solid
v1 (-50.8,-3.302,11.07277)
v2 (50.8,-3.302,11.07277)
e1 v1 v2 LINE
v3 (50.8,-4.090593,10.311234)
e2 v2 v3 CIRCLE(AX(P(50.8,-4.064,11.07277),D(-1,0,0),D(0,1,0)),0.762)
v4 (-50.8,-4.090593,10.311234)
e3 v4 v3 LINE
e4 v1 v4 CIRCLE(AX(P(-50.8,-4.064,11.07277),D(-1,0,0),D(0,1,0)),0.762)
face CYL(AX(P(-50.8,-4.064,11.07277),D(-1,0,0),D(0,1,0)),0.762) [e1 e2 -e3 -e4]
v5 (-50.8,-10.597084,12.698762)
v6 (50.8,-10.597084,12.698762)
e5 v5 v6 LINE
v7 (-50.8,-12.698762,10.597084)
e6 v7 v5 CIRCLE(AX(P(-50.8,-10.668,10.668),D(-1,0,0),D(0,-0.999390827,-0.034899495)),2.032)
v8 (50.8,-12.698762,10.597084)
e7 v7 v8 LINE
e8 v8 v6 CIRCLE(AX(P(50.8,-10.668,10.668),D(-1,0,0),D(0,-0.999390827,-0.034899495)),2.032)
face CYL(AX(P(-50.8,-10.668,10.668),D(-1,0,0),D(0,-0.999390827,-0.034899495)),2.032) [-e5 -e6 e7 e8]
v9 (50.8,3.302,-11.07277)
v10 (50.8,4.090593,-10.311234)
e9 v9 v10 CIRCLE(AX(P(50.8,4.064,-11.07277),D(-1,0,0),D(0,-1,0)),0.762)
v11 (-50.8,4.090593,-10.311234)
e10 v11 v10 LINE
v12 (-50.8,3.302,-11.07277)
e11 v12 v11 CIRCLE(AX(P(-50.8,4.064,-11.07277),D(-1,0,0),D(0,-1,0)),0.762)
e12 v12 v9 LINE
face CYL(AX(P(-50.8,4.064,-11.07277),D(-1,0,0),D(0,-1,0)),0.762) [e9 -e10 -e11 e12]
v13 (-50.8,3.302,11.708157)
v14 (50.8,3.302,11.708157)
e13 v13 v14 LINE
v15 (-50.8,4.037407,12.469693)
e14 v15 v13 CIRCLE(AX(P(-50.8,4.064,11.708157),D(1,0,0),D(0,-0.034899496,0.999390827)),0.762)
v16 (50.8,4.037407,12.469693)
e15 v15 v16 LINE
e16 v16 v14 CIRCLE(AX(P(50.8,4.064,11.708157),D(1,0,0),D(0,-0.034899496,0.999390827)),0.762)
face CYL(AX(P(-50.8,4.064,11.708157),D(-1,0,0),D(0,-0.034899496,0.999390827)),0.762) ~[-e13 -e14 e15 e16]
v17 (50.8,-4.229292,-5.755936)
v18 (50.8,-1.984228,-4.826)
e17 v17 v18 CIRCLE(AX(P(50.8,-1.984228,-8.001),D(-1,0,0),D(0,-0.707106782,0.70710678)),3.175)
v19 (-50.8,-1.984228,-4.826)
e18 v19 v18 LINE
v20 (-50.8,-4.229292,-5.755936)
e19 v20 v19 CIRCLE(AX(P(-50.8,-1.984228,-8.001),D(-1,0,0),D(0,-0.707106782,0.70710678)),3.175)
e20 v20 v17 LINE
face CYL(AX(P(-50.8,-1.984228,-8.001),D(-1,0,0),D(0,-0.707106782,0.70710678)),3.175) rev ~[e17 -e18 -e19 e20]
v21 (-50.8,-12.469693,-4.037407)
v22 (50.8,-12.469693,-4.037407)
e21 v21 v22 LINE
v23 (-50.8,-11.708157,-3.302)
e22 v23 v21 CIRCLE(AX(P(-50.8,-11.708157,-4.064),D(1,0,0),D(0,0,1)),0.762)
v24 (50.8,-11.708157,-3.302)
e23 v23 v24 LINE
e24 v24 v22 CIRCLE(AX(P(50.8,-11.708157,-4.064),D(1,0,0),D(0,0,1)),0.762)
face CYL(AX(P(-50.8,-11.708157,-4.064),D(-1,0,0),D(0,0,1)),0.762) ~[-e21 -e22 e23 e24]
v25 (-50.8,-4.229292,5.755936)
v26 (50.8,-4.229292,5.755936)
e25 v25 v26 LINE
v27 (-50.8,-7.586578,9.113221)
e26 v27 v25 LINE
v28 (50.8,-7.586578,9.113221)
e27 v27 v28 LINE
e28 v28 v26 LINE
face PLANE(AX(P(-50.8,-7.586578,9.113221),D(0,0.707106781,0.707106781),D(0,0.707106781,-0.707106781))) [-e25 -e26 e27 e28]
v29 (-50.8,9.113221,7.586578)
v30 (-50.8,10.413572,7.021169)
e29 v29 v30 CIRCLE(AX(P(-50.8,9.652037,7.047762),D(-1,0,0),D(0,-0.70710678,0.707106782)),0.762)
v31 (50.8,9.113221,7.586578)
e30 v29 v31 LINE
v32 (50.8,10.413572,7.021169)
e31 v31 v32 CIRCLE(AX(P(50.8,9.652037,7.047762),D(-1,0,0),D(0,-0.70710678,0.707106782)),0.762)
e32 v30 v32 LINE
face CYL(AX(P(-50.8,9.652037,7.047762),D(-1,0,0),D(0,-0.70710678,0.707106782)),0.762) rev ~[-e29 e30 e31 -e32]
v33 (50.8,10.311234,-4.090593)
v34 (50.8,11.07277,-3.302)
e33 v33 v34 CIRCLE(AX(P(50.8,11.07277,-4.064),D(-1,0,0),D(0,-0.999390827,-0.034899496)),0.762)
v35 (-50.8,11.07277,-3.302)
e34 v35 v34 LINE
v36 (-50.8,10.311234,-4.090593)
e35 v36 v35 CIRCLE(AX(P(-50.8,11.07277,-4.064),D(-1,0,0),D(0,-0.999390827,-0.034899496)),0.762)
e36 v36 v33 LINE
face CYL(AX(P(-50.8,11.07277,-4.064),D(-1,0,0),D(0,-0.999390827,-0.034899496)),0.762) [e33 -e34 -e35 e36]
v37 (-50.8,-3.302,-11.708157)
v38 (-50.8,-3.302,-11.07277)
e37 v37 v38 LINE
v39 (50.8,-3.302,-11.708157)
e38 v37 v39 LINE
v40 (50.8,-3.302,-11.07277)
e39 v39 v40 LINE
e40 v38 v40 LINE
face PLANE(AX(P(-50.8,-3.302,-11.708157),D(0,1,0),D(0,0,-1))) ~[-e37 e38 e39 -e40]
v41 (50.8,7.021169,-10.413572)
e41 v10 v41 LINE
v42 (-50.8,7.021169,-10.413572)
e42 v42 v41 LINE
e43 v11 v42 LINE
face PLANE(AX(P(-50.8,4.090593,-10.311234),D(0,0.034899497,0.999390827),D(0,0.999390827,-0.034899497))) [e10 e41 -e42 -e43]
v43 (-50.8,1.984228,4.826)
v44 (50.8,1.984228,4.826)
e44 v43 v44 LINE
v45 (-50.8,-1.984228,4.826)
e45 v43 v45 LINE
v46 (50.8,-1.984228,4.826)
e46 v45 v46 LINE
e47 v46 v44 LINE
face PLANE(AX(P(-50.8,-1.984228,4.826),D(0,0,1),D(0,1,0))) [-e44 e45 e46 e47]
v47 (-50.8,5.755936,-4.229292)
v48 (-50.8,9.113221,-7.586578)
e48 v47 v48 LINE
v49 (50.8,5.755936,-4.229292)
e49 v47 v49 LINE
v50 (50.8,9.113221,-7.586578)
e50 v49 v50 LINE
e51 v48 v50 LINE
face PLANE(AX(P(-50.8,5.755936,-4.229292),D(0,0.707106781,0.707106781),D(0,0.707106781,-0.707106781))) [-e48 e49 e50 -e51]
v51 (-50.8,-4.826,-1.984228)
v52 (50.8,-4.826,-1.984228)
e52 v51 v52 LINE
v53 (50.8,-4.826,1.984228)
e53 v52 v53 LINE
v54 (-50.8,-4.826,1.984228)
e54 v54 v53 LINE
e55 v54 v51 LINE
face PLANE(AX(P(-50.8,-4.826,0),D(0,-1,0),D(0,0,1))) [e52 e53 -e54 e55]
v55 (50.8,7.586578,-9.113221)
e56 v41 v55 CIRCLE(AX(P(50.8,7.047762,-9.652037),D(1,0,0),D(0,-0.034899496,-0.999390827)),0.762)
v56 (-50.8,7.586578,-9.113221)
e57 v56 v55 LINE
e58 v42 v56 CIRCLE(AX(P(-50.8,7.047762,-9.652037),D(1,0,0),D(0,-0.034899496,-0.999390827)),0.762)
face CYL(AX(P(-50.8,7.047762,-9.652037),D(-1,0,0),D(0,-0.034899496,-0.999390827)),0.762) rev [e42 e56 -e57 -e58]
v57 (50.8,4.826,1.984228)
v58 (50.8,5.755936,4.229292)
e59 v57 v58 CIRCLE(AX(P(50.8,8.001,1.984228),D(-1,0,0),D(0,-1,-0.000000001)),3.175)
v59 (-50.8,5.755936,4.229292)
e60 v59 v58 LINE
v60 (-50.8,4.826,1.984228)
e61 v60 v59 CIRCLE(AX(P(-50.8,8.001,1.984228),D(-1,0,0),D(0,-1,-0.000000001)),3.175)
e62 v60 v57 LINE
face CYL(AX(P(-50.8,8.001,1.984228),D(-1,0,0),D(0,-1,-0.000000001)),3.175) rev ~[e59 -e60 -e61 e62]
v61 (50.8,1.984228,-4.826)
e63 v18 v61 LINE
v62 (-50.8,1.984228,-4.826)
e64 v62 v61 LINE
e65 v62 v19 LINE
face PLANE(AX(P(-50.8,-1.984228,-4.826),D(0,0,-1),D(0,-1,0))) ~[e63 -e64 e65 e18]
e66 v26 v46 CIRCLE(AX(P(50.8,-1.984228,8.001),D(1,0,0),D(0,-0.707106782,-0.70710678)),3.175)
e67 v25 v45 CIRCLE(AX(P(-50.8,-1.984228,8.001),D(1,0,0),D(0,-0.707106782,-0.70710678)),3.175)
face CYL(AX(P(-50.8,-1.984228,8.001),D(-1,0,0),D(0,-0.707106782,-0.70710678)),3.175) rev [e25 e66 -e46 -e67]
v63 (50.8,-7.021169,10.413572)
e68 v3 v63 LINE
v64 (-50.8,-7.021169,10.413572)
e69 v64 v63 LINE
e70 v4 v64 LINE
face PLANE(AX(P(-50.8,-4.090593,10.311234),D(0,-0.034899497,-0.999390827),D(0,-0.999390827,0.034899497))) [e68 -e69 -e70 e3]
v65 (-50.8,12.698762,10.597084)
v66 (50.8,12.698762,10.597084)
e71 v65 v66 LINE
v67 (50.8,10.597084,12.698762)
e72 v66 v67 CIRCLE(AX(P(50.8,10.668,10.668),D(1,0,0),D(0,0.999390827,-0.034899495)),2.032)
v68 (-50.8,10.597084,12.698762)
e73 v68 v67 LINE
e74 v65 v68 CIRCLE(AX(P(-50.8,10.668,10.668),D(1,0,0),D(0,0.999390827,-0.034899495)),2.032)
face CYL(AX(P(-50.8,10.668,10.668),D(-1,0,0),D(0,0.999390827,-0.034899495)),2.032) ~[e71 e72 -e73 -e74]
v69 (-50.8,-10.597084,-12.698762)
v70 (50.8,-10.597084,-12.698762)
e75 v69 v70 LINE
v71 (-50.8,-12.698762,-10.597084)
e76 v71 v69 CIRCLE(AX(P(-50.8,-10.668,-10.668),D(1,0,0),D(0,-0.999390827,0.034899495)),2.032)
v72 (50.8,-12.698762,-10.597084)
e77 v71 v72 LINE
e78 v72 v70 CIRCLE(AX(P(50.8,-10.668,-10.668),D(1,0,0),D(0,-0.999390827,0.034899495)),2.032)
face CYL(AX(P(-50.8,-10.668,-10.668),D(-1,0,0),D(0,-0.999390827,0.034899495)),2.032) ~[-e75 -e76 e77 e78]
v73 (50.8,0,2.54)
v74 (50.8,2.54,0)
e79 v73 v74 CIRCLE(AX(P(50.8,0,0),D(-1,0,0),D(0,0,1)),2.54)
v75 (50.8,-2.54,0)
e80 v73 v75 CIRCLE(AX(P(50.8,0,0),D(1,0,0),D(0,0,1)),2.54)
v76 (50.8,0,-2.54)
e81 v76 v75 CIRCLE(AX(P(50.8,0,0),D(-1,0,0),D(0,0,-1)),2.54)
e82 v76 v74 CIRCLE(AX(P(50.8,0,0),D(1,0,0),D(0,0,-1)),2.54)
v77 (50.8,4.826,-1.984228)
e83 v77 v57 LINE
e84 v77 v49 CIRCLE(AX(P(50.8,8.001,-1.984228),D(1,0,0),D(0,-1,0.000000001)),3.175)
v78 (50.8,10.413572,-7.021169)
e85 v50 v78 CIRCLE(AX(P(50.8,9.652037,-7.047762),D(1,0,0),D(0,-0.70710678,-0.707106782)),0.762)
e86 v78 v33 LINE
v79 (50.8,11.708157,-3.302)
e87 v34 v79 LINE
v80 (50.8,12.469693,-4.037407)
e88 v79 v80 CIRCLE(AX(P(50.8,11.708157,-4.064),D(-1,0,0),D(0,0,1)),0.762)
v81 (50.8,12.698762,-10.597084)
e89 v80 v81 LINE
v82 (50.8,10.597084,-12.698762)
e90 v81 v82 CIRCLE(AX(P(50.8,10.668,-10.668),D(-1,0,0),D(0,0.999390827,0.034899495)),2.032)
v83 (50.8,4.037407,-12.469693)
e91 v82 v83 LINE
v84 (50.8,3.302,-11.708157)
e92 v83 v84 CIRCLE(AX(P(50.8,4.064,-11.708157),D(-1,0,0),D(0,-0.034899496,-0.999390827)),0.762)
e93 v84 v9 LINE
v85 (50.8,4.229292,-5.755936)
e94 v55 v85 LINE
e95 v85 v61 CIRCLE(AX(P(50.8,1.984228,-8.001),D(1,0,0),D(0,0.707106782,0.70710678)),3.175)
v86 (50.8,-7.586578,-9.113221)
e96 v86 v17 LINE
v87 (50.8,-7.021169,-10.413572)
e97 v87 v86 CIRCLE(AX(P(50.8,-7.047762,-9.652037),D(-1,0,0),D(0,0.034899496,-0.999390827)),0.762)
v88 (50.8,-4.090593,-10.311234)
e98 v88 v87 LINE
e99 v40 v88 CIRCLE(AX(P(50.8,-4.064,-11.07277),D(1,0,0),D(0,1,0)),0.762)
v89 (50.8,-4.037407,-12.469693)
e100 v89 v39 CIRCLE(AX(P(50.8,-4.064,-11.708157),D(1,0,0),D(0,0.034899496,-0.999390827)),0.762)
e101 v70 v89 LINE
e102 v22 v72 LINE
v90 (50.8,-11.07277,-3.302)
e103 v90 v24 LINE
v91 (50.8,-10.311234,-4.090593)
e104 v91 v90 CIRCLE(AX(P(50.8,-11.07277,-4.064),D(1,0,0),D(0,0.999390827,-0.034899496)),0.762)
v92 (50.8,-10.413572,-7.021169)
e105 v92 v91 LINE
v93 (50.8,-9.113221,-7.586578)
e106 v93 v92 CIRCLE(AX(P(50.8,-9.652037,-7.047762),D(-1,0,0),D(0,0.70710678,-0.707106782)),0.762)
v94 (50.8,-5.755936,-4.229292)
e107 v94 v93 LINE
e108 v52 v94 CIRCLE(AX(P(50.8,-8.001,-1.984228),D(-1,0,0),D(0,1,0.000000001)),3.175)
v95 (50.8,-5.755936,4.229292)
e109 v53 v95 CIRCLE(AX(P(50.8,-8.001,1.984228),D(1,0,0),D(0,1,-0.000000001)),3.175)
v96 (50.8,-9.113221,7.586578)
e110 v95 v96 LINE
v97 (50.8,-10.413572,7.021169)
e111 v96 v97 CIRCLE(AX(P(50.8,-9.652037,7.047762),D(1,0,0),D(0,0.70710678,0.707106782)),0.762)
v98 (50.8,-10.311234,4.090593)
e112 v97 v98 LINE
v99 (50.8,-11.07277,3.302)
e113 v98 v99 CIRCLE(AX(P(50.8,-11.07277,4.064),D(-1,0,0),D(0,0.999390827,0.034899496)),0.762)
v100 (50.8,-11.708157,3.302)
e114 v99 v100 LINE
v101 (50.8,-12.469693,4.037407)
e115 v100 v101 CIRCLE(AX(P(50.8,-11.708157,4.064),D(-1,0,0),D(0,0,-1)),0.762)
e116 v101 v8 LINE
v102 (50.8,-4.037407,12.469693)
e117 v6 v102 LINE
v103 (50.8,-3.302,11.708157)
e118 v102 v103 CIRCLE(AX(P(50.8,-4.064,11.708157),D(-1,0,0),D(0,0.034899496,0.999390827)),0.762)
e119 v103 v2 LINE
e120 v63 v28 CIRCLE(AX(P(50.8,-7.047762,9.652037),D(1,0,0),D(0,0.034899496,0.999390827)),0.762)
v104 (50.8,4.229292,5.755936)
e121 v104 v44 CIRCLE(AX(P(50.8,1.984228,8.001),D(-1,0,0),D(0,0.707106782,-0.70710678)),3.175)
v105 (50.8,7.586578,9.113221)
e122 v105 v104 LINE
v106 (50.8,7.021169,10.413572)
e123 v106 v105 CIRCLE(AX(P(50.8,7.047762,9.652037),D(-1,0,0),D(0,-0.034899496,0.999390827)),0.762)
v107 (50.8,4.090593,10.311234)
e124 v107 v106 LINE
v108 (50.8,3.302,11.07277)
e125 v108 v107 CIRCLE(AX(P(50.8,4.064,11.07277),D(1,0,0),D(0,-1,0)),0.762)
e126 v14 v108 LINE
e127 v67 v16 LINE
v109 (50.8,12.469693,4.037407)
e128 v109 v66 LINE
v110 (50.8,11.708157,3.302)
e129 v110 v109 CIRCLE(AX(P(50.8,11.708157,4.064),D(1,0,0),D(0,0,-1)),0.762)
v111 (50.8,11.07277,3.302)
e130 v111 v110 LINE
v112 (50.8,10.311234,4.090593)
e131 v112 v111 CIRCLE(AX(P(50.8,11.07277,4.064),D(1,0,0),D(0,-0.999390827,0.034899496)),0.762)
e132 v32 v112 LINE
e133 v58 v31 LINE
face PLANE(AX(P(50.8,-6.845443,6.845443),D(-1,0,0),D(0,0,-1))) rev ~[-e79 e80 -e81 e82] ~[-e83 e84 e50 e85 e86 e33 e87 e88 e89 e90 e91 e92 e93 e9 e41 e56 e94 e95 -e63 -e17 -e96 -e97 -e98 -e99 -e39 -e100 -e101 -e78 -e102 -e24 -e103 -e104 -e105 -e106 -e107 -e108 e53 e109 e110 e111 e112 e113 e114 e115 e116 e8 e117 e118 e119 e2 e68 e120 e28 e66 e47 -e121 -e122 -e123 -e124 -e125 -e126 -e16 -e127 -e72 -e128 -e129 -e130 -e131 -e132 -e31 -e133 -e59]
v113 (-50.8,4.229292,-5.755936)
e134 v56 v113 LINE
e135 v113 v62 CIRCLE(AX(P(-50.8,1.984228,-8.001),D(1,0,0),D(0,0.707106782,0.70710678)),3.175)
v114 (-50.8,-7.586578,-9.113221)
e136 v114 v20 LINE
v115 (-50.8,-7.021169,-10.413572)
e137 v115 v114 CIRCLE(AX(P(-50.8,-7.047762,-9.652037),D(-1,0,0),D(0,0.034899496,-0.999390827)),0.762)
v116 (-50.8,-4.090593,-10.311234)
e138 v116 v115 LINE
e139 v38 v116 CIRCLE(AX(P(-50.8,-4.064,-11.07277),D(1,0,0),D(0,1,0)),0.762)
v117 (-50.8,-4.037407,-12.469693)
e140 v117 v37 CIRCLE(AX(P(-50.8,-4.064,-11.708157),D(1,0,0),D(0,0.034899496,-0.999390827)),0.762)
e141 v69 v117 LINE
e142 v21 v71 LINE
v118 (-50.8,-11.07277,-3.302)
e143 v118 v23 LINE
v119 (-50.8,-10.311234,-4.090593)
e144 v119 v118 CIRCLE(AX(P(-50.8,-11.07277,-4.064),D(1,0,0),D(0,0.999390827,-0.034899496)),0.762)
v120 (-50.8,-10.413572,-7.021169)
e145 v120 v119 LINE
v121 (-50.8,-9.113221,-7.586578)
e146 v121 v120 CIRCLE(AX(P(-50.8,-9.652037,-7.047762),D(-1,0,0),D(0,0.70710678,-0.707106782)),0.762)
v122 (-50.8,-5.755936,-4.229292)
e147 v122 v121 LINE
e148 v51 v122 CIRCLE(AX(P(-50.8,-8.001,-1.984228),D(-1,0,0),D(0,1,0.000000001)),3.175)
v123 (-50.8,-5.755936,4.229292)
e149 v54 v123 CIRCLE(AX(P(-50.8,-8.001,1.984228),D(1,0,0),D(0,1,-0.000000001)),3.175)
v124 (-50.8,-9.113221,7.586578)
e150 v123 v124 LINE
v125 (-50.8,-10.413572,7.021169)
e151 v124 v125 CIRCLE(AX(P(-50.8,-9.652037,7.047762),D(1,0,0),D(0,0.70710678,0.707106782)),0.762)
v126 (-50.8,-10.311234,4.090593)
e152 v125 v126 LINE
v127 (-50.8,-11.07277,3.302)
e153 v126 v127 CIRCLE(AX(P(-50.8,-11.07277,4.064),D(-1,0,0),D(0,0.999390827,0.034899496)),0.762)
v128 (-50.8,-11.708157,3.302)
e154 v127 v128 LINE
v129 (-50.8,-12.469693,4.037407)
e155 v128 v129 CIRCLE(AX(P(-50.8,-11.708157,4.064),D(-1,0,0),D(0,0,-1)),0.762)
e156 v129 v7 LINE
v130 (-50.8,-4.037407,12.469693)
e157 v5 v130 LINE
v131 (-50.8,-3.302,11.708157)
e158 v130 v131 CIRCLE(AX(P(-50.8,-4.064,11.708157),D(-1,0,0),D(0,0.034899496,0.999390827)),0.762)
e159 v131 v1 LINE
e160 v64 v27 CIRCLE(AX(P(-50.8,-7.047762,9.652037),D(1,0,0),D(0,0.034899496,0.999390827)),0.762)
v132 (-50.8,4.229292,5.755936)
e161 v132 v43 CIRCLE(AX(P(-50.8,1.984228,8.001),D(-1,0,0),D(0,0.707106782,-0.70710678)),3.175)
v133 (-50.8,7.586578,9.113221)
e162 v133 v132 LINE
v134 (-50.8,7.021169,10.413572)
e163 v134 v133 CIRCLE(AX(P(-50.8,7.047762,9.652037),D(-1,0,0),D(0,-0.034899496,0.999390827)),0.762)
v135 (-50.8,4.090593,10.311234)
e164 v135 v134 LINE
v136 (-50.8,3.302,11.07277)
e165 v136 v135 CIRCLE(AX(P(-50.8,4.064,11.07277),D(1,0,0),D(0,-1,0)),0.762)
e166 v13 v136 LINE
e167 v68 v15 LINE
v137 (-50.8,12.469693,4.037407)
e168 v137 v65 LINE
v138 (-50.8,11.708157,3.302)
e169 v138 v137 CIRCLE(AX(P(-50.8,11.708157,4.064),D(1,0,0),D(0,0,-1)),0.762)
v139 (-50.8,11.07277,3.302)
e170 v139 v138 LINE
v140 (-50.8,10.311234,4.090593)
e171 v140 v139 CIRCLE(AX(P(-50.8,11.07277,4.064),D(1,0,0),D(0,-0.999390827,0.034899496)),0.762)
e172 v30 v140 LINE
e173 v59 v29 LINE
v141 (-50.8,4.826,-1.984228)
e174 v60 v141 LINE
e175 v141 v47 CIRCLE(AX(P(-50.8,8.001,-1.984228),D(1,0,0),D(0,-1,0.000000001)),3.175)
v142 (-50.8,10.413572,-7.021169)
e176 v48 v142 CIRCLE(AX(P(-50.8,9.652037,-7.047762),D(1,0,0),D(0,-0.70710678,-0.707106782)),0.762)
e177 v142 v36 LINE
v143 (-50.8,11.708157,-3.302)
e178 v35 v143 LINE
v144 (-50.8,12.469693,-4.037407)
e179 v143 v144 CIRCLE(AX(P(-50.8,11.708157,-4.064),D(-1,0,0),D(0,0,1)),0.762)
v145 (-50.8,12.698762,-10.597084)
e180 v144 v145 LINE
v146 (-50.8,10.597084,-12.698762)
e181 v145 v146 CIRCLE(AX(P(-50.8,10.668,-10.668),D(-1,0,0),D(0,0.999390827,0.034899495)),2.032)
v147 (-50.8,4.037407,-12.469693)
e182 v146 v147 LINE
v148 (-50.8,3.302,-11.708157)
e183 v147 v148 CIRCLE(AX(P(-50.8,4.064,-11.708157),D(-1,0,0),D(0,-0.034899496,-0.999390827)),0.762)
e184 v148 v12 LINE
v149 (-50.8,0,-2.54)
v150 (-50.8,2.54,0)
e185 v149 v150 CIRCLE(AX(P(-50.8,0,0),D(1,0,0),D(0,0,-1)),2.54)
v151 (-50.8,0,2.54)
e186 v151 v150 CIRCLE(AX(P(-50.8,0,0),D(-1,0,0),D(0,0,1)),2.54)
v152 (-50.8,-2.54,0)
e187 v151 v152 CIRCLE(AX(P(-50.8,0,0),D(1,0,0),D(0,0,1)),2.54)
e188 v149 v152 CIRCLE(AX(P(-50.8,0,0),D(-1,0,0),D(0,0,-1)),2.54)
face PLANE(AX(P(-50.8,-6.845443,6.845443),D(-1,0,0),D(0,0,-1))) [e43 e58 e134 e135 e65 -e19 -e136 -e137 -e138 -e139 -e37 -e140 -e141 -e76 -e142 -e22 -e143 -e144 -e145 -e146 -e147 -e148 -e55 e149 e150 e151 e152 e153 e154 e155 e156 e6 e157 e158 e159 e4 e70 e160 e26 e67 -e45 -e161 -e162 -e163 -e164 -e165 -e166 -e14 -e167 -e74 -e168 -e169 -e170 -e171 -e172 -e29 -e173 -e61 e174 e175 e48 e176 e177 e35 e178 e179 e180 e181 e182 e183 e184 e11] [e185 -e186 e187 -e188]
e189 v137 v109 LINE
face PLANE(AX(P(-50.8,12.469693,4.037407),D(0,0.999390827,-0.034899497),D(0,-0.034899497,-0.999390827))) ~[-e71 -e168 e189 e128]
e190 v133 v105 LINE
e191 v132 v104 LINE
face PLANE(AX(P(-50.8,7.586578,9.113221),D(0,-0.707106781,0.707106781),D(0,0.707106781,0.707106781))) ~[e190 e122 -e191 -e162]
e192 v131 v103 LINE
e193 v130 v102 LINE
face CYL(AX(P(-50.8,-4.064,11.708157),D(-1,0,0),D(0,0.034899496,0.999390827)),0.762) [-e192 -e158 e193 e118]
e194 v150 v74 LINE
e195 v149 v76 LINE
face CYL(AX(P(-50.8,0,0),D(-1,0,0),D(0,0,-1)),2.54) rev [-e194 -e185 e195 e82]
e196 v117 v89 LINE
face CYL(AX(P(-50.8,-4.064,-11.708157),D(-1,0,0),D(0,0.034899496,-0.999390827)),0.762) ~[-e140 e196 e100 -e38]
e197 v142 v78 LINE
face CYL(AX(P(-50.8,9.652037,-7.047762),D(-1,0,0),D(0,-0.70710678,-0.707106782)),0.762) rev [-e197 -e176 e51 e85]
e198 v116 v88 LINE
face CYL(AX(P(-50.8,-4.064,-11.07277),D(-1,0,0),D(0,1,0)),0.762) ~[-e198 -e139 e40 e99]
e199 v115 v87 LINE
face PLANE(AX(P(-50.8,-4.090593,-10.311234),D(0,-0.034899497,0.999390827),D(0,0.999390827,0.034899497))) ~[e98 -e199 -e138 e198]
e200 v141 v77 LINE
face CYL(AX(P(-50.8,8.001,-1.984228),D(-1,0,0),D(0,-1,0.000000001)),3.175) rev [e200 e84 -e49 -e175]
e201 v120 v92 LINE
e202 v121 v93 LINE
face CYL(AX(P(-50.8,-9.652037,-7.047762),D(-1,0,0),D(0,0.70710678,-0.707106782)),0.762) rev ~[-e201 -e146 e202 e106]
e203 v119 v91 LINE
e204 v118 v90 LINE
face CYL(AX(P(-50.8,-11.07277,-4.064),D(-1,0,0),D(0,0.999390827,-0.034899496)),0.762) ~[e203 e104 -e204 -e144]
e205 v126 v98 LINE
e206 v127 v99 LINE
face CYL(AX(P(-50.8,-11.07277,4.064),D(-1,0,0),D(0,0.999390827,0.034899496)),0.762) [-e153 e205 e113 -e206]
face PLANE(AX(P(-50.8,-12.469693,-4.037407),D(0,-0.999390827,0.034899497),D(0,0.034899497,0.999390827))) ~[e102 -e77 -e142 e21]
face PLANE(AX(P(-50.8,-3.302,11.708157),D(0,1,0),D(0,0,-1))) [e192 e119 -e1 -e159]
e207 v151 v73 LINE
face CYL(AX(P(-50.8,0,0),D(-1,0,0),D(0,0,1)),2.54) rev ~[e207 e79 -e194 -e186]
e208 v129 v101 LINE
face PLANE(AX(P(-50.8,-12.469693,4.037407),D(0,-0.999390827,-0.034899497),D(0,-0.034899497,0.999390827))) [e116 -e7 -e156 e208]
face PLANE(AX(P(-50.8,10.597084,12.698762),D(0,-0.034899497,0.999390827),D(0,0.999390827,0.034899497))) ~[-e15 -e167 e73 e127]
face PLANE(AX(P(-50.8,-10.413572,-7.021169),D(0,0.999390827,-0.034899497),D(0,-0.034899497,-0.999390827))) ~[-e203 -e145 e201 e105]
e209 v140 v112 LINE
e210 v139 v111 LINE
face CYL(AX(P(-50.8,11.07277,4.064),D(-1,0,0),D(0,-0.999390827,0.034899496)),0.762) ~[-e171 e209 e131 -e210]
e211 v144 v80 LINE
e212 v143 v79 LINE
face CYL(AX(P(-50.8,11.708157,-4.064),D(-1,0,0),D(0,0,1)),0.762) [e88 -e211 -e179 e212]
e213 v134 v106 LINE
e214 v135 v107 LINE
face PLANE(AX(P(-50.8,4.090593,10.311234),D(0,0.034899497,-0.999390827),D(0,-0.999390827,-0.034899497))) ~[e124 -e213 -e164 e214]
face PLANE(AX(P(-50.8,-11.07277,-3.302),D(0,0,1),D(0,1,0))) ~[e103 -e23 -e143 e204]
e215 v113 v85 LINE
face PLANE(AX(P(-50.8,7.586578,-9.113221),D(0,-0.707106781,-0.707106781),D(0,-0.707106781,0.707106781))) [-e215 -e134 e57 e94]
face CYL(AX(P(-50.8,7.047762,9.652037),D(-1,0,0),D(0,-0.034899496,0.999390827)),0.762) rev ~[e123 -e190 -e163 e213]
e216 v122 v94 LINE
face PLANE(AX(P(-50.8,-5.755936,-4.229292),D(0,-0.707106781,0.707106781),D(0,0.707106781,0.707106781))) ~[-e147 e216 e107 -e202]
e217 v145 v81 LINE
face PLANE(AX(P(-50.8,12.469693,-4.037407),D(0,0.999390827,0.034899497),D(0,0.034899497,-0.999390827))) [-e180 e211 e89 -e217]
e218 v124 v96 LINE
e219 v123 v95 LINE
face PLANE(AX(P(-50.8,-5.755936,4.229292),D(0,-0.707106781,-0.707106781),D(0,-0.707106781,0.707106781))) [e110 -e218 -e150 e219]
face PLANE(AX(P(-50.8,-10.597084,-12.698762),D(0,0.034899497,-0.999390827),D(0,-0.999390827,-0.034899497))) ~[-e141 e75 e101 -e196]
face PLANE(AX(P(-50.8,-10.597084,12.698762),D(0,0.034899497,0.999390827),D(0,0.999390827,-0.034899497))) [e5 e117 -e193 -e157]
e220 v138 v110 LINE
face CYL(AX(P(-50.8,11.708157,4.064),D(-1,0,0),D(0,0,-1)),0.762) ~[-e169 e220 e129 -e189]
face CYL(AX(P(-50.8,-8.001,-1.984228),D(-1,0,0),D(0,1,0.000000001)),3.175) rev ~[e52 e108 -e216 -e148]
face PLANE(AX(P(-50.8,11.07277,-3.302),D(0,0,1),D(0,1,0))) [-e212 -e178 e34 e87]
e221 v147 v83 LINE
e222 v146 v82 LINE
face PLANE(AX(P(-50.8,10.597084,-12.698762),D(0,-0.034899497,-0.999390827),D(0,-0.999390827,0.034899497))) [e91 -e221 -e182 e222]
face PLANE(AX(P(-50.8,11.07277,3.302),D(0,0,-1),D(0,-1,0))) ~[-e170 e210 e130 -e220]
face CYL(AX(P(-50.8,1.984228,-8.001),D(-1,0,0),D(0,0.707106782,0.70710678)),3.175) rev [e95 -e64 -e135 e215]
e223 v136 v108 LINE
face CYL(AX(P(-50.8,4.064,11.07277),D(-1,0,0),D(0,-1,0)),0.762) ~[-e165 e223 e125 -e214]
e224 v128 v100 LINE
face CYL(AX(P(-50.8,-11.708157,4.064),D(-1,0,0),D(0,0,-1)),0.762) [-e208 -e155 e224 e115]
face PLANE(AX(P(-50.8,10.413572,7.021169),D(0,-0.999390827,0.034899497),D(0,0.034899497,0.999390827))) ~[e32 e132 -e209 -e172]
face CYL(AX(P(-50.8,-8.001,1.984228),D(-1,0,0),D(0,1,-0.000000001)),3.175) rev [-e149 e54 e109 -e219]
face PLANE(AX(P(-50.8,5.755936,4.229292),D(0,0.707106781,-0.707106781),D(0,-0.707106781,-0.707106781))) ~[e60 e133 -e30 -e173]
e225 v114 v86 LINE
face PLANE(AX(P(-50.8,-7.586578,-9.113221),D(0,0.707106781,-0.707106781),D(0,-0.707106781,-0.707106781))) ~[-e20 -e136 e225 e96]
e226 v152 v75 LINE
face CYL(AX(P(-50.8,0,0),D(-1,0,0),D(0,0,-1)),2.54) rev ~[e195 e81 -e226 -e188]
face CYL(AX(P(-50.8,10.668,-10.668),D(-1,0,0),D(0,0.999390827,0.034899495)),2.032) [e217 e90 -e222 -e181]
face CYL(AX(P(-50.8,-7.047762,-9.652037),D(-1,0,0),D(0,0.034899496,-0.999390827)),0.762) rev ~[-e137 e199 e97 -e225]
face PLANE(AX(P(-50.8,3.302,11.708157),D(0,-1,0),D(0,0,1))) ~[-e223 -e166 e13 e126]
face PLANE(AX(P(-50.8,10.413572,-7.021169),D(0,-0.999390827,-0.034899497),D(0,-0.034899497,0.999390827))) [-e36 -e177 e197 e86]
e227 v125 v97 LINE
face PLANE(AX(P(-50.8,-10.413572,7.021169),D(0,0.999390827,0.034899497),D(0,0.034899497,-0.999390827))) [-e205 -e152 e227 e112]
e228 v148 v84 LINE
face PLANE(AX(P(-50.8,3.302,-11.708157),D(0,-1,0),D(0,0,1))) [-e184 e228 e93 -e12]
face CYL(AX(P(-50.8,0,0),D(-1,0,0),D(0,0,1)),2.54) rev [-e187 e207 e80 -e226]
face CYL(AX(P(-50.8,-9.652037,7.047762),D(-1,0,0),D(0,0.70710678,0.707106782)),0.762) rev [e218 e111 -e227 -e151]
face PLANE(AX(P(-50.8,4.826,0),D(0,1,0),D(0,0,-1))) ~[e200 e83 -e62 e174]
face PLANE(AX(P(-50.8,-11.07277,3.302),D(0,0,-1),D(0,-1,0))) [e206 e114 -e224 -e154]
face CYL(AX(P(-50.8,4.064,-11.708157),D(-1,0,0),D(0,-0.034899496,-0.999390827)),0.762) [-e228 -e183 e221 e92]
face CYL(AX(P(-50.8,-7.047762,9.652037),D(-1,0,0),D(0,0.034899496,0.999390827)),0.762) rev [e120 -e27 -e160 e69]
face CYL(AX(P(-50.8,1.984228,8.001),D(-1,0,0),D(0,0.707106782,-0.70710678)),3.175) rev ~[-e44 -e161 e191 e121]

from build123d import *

# Parameters (mm, degrees)
BOSS_EXTRUDE1_DEPTH      = 50.8
BOSS_EXTRUDE1_DEPTH_BACK = 50.8


with BuildPart() as part:
    # Sketch3 → Boss-Extrude1 (new, two sides: drawn at the far end of the back side and taken through both)
    with BuildSketch(Plane(origin=(0, 0, 0), x_dir=(0, 0, -1), z_dir=(1, 0, 0)).offset(-BOSS_EXTRUDE1_DEPTH_BACK)):
        with BuildLine():
            Line((0, 4.826), (1.984228399, 4.826))
            ThreePointArc((1.984228399, 4.826), (3.199248297, 5.067682484), (4.229292429, 5.75593597))
            Line((4.229292429, 5.75593597), (7.586577723, 9.113221264))
            ThreePointArc((7.586577723, 9.113221264), (7.746562132, 9.955883421), (7.021168939, 10.413572441))
            Line((7.021168939, 10.413572441), (4.090593416, 10.311234489))
            ThreePointArc((4.090593416, 10.311234489), (3.534670322, 10.524633371), (3.302, 11.072770299))
            Line((3.302, 11.072770299), (3.302, 11.70815736))
            ThreePointArc((3.302, 11.70815736), (3.515863072, 12.237487038), (4.037406584, 12.46969317))
            Line((4.037406584, 12.46969317), (10.597084223, 12.698762161))
            ThreePointArc((10.597084223, 12.698762161), (12.104840979, 12.104840979), (12.698762161, 10.597084223))
            Line((12.698762161, 10.597084223), (12.46969317, 4.037406584))
            ThreePointArc((12.46969317, 4.037406584), (12.237487038, 3.515863072), (11.70815736, 3.302))
            Line((11.70815736, 3.302), (11.072770299, 3.302))
            ThreePointArc((11.072770299, 3.302), (10.524633371, 3.534670322), (10.311234489, 4.090593416))
            Line((10.311234489, 4.090593416), (10.413572441, 7.021168939))
            ThreePointArc((10.413572441, 7.021168939), (9.955883421, 7.746562132), (9.113221264, 7.586577723))
            Line((9.113221264, 7.586577723), (5.75593597, 4.229292429))
            ThreePointArc((5.75593597, 4.229292429), (5.067682484, 3.199248297), (4.826, 1.984228399))
            Line((4.826, 1.984228399), (4.826, 0))
            Line((4.826, 0), (2.54, 0))
            ThreePointArc((2.54, 0), (1.796051224, 1.796051224), (0, 2.54))
            Line((0, 2.54), (0, 4.826))
        make_face()
    extrude(amount=BOSS_EXTRUDE1_DEPTH + BOSS_EXTRUDE1_DEPTH_BACK)

    # Mirror1: part across plane


with BuildPart() as part_1:
    add(part.part)
    add(part.part.mirror(Plane.ZX))

    # Mirror2: part across plane


with BuildPart() as part_2:
    add(part_1.part)
    add(part_1.part.mirror(Plane.XY))


solid = part_2.part
